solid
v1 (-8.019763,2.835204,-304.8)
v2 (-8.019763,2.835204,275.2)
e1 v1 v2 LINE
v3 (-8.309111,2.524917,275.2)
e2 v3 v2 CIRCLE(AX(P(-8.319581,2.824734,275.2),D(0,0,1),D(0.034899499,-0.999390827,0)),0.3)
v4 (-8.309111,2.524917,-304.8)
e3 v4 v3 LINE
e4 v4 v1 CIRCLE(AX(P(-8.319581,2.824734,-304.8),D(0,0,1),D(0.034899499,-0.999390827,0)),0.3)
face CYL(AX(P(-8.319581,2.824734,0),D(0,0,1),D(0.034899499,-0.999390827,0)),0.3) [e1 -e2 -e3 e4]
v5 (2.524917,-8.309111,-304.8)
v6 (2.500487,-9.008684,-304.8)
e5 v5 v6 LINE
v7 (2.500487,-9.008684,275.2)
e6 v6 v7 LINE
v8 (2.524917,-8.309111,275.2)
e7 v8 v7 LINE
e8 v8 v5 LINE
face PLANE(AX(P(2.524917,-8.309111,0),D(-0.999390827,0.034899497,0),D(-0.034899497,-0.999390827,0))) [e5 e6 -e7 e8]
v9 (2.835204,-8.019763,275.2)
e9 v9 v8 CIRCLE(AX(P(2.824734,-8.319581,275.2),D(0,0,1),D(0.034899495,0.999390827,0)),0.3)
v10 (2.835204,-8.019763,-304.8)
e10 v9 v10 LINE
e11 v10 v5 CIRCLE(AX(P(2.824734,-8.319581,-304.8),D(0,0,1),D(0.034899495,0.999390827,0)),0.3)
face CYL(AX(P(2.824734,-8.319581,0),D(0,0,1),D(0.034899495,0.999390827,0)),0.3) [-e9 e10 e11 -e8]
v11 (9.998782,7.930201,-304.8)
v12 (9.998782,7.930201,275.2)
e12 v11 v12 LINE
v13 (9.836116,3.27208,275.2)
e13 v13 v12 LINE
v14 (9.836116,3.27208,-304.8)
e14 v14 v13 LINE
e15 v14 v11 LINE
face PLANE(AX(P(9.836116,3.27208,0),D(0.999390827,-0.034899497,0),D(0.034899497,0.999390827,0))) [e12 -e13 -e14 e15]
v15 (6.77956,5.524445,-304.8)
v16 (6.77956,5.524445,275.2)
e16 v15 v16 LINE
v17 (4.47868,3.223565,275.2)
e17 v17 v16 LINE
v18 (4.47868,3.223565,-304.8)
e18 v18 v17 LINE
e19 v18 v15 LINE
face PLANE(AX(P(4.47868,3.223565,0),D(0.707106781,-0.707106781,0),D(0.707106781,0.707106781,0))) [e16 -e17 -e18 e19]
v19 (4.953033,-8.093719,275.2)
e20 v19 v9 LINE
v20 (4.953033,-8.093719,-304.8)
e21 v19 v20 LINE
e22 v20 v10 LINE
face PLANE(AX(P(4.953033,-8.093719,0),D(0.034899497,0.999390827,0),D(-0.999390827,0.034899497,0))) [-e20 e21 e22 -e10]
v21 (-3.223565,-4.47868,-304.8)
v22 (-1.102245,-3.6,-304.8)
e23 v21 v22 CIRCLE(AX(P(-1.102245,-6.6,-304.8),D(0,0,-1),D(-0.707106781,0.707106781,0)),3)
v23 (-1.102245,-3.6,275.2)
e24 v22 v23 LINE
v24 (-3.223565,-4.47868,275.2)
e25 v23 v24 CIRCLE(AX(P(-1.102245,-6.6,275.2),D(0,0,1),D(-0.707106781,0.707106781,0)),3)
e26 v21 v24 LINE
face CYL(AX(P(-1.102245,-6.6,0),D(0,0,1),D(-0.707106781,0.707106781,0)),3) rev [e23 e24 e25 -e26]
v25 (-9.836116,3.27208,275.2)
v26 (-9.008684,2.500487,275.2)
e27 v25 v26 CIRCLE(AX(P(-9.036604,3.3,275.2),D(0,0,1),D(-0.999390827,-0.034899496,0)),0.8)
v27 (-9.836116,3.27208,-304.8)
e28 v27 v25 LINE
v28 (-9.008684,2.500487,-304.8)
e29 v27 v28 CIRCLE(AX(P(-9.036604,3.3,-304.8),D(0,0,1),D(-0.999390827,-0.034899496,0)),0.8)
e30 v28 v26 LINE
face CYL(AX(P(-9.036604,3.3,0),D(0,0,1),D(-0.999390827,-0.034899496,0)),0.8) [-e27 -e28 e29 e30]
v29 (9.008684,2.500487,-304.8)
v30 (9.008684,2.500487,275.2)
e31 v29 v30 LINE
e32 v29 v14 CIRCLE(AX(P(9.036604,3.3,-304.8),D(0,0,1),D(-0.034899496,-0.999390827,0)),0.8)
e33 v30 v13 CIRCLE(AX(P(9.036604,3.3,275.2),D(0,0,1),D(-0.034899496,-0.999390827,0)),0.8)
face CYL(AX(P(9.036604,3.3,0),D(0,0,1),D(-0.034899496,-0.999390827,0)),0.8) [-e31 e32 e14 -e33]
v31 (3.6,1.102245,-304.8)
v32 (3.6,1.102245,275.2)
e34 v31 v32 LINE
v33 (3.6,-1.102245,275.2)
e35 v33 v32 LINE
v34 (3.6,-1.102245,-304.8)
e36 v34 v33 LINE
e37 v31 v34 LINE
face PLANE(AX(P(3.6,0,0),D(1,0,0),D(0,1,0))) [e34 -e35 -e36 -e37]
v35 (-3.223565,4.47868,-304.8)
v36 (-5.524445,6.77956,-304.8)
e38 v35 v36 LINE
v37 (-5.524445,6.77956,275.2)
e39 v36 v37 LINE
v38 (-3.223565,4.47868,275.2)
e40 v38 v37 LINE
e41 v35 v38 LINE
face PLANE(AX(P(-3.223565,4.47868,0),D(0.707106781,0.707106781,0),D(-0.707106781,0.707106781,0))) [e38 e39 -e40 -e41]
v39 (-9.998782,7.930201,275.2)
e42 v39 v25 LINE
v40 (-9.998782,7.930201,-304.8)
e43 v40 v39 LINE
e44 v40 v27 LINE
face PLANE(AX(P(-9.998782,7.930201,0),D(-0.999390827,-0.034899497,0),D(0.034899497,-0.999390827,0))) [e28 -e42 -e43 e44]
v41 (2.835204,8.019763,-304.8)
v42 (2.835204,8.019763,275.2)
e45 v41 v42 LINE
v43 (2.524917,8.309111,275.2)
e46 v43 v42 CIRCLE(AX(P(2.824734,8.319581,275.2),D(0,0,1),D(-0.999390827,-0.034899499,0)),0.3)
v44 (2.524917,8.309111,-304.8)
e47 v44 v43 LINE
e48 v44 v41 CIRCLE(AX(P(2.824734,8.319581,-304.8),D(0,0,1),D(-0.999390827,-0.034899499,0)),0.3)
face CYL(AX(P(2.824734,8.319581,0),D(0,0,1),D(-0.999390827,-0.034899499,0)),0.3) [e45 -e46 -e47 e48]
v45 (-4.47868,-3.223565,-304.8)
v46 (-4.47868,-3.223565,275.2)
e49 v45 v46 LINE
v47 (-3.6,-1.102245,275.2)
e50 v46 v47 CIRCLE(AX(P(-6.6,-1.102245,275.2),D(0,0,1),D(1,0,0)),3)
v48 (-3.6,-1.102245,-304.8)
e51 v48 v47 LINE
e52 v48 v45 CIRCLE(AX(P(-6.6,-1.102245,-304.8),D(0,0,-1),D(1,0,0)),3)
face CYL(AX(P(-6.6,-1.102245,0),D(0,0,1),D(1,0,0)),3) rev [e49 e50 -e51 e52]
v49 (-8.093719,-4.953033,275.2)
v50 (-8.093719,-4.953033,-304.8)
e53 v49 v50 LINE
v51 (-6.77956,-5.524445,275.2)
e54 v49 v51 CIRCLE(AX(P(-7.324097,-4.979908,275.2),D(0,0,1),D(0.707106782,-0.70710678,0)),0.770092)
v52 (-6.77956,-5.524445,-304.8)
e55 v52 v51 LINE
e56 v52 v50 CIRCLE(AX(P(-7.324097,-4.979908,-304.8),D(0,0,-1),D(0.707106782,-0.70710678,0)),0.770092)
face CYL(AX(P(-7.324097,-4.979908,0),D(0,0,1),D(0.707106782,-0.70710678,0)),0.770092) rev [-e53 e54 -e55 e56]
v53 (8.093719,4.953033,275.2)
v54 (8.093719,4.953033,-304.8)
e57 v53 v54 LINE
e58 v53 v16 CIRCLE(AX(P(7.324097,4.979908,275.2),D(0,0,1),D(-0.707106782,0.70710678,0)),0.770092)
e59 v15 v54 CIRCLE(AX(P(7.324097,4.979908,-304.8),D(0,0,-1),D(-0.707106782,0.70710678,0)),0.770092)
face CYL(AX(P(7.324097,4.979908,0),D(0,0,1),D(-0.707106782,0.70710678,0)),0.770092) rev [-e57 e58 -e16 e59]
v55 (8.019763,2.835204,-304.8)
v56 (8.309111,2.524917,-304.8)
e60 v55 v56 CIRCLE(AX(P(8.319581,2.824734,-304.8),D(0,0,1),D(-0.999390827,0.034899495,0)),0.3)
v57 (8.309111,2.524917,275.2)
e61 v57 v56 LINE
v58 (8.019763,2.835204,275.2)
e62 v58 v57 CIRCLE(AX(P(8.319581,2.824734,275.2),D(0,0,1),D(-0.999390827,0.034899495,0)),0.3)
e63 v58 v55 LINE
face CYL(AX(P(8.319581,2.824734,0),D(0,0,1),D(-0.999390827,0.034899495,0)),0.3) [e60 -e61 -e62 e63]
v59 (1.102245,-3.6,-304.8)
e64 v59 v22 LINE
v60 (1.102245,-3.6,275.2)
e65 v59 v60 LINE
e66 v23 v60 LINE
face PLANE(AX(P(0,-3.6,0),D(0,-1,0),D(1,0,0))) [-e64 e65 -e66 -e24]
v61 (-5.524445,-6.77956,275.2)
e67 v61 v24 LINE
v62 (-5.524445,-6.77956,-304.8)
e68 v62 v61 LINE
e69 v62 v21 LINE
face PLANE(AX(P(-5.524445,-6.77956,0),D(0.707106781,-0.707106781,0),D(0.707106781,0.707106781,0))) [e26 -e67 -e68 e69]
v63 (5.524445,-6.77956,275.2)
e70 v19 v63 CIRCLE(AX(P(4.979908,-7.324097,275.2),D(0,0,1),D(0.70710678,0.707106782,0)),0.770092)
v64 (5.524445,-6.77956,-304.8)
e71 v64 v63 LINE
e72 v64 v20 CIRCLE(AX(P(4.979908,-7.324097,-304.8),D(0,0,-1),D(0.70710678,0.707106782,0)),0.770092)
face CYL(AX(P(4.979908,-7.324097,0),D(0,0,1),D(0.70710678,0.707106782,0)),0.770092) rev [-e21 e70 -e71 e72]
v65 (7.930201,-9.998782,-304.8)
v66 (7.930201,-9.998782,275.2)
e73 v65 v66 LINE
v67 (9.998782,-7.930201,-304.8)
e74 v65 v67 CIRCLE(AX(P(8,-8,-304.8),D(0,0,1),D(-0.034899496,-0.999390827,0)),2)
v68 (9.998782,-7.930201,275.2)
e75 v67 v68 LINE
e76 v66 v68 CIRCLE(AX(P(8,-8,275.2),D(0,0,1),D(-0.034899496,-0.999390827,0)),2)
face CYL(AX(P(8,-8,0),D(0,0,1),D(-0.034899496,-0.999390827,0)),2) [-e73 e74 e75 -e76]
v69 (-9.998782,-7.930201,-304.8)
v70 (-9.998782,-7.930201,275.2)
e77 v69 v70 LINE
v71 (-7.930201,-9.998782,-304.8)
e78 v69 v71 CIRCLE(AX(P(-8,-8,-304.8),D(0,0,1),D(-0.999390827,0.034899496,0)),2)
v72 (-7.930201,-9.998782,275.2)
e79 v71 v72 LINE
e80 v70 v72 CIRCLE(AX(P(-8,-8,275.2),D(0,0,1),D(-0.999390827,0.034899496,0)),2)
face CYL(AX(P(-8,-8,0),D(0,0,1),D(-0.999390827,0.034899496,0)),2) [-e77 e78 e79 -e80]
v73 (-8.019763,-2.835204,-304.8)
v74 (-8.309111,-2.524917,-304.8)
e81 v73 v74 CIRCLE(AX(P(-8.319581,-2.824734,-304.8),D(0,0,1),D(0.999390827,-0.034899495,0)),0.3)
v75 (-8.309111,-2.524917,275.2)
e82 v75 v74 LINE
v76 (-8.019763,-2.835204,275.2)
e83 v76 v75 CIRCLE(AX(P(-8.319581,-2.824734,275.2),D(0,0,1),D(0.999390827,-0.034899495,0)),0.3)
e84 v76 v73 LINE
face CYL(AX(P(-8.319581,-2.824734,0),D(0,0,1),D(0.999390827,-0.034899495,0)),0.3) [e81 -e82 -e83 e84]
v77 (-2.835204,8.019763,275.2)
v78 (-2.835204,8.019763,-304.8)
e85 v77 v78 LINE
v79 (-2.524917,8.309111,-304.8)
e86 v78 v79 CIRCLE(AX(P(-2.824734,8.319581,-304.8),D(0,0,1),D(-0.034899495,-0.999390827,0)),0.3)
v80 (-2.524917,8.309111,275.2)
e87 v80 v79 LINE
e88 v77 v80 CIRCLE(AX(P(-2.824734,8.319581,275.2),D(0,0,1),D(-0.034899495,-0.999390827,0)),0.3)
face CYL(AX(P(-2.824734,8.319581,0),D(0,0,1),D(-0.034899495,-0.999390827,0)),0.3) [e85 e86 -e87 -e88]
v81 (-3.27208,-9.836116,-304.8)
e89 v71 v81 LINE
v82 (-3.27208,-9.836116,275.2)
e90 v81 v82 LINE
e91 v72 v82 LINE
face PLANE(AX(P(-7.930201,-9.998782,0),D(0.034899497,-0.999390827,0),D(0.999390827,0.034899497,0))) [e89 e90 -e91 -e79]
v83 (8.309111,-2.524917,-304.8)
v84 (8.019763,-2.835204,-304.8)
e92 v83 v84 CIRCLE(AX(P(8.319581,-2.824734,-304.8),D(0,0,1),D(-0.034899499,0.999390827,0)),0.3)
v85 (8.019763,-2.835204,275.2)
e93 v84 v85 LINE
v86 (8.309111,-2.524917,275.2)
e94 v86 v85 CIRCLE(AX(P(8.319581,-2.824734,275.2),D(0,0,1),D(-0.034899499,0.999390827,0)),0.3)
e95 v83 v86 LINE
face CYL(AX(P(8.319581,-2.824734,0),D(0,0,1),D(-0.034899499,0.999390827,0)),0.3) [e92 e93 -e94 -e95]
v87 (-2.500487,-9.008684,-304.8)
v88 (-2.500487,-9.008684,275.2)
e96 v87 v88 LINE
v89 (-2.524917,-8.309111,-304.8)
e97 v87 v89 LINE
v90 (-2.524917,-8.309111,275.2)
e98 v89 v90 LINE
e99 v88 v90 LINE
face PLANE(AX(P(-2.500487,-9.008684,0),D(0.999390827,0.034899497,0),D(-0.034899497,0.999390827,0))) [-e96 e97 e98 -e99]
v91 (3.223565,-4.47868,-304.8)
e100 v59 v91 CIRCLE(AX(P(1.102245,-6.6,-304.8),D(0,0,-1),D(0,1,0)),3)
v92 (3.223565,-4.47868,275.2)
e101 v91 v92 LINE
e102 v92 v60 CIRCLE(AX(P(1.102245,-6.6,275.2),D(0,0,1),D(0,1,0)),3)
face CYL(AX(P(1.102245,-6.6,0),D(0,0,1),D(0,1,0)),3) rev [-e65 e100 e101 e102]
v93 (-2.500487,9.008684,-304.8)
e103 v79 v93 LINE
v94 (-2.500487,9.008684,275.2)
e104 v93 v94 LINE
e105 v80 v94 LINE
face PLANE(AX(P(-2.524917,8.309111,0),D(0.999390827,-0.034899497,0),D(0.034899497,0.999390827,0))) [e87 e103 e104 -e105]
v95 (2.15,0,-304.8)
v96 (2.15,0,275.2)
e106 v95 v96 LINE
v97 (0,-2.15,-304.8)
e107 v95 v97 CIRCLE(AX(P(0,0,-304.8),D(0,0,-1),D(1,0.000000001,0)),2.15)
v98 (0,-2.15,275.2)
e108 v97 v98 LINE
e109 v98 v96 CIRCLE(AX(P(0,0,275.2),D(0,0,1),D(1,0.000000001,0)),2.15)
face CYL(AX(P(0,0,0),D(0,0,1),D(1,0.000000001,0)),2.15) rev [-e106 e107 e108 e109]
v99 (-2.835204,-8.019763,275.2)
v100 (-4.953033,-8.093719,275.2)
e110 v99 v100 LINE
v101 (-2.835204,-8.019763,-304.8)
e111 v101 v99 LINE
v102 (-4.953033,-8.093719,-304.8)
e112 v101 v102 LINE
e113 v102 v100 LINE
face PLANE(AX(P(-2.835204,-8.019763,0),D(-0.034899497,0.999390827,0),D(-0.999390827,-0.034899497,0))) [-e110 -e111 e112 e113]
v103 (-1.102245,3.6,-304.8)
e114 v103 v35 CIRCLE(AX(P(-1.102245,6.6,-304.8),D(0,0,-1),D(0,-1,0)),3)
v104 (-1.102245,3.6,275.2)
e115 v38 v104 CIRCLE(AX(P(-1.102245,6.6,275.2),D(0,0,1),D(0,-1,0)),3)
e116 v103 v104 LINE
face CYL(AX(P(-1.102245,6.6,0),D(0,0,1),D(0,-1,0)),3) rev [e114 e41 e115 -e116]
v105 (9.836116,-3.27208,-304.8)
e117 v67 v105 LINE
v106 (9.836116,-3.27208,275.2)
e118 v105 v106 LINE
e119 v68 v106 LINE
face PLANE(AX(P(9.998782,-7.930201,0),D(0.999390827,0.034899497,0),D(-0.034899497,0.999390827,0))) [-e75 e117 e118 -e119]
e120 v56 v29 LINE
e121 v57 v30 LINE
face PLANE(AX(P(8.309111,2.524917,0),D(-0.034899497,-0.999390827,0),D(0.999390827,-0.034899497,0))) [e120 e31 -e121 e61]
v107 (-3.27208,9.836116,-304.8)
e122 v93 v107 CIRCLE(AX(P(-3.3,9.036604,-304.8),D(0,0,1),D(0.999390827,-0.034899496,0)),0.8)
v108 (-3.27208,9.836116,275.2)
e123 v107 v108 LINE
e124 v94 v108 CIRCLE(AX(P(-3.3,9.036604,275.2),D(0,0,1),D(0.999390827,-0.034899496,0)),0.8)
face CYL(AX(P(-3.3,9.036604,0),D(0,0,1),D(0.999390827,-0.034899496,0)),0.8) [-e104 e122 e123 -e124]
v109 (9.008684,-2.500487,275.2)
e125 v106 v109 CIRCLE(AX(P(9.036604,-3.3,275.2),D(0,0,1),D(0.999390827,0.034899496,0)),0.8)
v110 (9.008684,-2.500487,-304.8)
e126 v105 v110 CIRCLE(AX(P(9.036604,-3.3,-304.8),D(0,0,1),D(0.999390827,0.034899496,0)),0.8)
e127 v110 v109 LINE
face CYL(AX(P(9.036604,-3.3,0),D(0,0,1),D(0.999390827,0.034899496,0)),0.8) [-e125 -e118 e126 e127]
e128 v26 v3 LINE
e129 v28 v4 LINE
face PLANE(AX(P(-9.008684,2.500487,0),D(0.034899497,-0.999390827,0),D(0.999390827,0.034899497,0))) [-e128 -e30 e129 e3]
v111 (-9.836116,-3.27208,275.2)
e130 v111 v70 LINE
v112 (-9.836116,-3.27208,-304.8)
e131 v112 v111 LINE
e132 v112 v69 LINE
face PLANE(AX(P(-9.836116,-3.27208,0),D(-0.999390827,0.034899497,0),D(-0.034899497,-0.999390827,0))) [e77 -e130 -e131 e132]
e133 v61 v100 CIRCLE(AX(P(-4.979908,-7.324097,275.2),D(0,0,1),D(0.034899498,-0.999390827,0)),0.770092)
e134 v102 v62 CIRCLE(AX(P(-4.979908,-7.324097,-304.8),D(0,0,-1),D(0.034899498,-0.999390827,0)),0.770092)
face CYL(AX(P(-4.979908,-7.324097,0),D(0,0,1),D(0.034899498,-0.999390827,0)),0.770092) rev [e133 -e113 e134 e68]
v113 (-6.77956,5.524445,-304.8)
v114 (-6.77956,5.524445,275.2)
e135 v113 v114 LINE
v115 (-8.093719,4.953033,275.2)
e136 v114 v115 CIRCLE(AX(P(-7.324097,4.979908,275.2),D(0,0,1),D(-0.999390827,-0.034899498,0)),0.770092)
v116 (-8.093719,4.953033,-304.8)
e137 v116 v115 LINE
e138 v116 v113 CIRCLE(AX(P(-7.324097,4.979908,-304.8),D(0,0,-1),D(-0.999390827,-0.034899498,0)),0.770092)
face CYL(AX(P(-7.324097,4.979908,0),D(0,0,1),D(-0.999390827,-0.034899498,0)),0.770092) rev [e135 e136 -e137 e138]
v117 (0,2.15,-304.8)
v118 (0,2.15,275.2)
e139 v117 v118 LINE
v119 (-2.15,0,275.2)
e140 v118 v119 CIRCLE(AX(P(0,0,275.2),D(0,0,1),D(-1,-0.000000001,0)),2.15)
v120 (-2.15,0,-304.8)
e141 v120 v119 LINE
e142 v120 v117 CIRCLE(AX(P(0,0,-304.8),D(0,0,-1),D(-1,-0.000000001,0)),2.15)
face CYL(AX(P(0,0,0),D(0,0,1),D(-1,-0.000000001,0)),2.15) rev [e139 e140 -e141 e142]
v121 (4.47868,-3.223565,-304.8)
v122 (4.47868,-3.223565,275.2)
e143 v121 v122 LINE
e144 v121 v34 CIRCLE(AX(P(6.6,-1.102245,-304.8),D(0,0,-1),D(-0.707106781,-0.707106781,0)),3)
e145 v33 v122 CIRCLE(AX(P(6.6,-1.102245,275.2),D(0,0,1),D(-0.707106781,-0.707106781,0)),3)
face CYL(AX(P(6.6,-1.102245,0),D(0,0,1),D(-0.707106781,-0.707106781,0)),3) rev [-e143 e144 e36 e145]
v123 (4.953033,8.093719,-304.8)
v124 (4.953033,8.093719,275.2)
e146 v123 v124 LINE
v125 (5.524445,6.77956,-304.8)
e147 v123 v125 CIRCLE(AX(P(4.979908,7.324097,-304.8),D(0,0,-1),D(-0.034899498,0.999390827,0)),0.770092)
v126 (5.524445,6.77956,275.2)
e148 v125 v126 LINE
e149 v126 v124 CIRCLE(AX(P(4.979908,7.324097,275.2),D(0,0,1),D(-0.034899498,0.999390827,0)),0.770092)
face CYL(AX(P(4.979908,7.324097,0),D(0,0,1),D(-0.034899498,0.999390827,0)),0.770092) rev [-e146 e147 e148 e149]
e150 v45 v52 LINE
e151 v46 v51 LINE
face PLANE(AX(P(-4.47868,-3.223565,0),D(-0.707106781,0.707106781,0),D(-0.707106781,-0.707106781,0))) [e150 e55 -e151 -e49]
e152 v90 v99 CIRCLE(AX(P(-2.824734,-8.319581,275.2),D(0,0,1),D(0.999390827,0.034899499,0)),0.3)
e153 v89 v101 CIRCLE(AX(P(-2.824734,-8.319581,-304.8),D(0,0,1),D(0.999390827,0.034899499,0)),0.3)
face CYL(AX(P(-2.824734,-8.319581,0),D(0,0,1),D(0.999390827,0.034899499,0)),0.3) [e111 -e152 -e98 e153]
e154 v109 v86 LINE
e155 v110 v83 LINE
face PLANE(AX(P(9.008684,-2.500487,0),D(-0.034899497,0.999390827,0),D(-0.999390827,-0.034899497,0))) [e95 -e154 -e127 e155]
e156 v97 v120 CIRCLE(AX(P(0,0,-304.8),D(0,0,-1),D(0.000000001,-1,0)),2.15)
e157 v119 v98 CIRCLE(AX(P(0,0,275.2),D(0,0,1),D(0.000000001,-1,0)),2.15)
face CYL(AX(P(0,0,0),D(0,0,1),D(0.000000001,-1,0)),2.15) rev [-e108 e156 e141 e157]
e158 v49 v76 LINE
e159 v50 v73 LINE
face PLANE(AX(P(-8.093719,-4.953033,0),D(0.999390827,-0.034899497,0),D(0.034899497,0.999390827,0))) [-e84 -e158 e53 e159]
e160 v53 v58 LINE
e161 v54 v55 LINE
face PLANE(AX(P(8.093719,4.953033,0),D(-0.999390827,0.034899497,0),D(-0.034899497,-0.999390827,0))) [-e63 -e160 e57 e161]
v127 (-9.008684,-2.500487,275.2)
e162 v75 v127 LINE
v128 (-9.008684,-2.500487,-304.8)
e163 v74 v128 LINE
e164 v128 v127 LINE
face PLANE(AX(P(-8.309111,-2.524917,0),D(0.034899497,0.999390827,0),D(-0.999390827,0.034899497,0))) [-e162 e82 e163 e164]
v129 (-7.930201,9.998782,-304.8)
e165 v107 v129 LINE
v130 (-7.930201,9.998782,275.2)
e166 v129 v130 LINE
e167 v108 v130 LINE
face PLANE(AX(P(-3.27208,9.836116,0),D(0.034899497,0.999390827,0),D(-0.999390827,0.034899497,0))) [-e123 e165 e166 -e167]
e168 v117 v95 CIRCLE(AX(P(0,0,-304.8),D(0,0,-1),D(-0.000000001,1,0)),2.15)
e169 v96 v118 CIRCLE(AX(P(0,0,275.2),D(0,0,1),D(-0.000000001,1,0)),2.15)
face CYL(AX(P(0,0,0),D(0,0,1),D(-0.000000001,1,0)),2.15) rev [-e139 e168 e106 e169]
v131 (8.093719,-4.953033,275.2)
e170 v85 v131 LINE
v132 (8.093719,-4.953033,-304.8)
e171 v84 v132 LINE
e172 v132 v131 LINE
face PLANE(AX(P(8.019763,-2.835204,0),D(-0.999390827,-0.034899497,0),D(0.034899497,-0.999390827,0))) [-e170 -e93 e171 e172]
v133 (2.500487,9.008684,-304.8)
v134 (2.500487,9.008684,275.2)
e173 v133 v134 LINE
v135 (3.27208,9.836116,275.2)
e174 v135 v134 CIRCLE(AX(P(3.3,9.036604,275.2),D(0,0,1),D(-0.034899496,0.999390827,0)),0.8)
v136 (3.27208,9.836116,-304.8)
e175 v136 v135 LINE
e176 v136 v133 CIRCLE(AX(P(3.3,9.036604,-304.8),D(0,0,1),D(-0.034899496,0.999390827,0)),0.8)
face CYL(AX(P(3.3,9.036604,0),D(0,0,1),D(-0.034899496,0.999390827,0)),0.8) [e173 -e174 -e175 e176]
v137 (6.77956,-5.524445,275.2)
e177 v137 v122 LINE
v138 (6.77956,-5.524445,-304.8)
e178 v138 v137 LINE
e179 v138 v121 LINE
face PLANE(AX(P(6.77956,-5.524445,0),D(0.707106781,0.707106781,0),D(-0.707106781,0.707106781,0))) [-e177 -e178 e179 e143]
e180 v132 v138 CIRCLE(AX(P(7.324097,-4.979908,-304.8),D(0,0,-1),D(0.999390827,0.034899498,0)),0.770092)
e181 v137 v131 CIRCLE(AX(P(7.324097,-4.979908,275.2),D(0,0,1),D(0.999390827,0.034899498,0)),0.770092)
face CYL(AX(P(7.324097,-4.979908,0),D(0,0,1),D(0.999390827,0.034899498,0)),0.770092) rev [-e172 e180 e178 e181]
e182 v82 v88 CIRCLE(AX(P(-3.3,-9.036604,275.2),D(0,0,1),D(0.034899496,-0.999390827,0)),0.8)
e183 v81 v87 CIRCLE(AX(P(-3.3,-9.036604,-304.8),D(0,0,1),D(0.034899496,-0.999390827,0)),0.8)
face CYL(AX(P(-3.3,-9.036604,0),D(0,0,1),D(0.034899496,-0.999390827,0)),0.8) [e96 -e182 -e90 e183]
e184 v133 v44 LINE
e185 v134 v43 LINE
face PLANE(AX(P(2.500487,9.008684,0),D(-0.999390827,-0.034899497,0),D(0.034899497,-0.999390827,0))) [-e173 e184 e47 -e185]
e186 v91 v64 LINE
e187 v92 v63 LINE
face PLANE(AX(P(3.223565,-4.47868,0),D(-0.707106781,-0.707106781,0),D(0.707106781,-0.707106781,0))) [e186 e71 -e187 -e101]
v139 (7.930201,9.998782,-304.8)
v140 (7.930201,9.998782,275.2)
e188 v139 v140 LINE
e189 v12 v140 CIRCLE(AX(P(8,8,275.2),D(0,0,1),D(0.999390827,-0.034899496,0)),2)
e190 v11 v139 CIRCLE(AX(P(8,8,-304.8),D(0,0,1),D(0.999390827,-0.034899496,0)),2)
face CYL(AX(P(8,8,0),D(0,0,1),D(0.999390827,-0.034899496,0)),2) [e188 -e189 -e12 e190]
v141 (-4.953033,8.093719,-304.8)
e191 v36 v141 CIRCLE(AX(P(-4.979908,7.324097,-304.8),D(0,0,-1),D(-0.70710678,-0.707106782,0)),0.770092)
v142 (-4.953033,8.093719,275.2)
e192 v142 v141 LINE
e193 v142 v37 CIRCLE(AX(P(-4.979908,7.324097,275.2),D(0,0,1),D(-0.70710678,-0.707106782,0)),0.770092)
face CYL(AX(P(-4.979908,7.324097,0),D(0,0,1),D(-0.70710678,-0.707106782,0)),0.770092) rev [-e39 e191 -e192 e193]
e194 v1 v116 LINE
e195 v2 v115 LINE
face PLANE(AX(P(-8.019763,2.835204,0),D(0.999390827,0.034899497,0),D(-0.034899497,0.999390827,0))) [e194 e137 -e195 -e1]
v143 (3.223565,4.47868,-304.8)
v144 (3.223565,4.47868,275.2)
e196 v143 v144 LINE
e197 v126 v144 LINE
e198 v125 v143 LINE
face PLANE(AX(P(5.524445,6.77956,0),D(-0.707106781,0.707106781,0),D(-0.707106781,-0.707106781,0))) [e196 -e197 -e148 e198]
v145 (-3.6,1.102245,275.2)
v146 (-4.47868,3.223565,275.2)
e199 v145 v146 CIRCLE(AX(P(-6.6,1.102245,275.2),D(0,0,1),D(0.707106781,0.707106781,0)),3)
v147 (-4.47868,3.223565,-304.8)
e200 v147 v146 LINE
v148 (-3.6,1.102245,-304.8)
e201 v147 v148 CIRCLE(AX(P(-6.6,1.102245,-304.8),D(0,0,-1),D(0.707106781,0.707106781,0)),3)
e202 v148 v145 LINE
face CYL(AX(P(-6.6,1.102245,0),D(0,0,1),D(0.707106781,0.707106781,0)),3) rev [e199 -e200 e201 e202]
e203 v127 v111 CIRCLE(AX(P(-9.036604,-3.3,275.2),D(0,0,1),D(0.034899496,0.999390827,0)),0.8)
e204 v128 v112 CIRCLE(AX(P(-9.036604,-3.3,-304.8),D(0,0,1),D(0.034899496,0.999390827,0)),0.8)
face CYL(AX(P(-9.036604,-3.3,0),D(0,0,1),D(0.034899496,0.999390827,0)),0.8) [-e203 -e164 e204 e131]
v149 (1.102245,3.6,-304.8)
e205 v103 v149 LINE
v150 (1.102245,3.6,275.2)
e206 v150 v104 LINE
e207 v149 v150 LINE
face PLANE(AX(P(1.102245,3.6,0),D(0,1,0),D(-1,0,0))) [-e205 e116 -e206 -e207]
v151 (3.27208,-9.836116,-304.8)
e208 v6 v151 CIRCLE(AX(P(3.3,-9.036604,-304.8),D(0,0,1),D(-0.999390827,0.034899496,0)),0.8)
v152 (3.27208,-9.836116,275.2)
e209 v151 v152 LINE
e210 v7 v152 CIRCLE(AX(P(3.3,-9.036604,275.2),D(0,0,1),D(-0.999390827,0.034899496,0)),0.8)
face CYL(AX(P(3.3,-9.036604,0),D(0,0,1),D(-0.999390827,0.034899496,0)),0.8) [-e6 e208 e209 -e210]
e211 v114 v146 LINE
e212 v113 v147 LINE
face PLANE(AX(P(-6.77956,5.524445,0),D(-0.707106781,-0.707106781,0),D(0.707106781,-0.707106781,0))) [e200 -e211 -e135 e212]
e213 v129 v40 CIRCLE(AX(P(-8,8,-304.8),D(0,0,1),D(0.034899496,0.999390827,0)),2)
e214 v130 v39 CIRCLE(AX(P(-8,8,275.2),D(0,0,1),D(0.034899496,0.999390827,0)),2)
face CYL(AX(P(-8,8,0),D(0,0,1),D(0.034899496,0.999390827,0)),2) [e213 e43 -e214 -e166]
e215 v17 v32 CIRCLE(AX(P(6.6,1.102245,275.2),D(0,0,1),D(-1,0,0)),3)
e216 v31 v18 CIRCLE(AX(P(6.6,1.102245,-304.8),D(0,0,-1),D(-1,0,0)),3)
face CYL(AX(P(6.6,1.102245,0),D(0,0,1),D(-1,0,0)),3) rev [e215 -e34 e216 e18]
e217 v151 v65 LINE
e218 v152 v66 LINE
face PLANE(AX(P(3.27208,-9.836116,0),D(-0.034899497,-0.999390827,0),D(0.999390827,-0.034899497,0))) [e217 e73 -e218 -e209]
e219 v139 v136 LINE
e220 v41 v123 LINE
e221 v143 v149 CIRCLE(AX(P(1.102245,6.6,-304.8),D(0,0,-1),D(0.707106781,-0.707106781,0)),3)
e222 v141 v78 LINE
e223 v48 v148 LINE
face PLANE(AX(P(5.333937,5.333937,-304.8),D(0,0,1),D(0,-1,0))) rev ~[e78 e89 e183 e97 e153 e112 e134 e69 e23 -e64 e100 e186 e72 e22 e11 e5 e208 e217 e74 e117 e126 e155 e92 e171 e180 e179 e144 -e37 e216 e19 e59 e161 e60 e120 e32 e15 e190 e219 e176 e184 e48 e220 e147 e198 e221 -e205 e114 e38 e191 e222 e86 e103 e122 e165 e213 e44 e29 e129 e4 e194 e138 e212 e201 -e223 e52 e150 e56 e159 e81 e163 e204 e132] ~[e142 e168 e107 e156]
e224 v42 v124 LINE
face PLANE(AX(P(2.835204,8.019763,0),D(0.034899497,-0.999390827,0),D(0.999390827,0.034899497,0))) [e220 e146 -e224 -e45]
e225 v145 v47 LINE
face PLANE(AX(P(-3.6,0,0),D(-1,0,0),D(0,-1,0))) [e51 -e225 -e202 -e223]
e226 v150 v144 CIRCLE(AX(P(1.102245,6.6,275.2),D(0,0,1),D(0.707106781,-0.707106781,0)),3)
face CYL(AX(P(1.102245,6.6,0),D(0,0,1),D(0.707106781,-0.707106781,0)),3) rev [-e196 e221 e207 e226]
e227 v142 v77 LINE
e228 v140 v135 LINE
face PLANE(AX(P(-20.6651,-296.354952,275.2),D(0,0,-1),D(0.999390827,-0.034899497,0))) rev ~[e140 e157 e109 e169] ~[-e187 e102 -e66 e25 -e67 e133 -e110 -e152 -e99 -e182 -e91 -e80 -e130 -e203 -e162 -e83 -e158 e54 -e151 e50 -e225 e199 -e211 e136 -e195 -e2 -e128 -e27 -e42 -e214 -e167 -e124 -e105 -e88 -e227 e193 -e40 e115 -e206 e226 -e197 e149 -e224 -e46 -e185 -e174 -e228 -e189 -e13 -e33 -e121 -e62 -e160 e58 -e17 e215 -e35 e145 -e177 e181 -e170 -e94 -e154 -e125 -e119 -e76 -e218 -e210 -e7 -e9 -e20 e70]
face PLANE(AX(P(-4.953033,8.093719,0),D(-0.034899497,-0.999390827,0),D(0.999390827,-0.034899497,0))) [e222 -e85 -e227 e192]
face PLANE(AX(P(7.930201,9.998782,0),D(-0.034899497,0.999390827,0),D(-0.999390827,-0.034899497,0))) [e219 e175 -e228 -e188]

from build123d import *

# Parameters (mm, degrees)
BOSS_EXTRUDE1_DEPTH     = 304.8
CIRPATTERN1_COUNT       = 4
CUT_EXTRUDE1_DEPTH      = 306.611552742
CUT_EXTRUDE1_DEPTH_BACK = 306.611552742
SKETCH4_W               = 20.616616654
SKETCH4_H               = 34.076220988


with BuildPart() as part:
    # Sketch3 → Boss-Extrude1 (new, symmetric)
    with BuildSketch(Plane.XY):
        with BuildLine():
            Line((-2.524916986, 8.30911066), (-2.500487338, 9.008684239))
            ThreePointArc((-2.500487338, 9.008684239), (-2.714917039, 9.582202525), (-3.272080403, 9.836116498))
            Line((-3.272080403, 9.836116498), (-7.930201007, 9.998781654))
            ThreePointArc((-7.930201007, 9.998781654), (-9.414213562, 9.414213562), (-9.998781654, 7.930201007))
            Line((-9.998781654, 7.930201007), (-9.836116498, 3.272080403))
            ThreePointArc((-9.836116498, 3.272080403), (-9.582202525, 2.714917039), (-9.008684239, 2.500487338))
            Line((-9.008684239, 2.500487338), (-8.30911066, 2.524916986))
            ThreePointArc((-8.30911066, 2.524916986), (-8.100174399, 2.620134726), (-8.019763261, 2.835204083))
            Line((-8.019763261, 2.835204083), (-8.093719461, 4.953032548))
            ThreePointArc((-8.093719461, 4.953032548), (-7.631170264, 5.686128657), (-6.779559917, 5.52444538))
            Line((-6.779559917, 5.52444538), (-4.478679656, 3.22356512))
            ThreePointArc((-4.478679656, 3.22356512), (-3.828361402, 2.250295073), (-3.6, 1.102244776))
            Line((-3.6, 1.102244776), (-3.6, 0))
            Line((-3.6, 0), (-2.15, 0))
            ThreePointArc((-2.15, 0), (-1.52027958, 1.52027958), (0, 2.15))
            Line((0, 2.15), (0, 3.6))
            Line((0, 3.6), (-1.102244776, 3.6))
            ThreePointArc((-1.102244776, 3.6), (-2.250295073, 3.828361402), (-3.22356512, 4.478679656))
            Line((-3.22356512, 4.478679656), (-5.52444538, 6.779559917))
            ThreePointArc((-5.52444538, 6.779559917), (-5.686128657, 7.631170264), (-4.953032548, 8.093719461))
            Line((-4.953032548, 8.093719461), (-2.835204083, 8.019763261))
            ThreePointArc((-2.835204083, 8.019763261), (-2.620134726, 8.100174399), (-2.524916986, 8.30911066))
        make_face()
    boss_extrude1 = extrude(amount=BOSS_EXTRUDE1_DEPTH, both=True)

    # CirPattern1: Boss-Extrude1 ×4 about axis
    cirpattern1_axis = Axis((0, 0, 0), (0, 0, 1))
    for i in range(1, CIRPATTERN1_COUNT):
        add(boss_extrude1.rotate(cirpattern1_axis, i * 360 / CIRPATTERN1_COUNT))

    # Sketch4 → Cut-Extrude1 (cut, two sides: drawn at the far end of the back side and taken through both)
    with BuildSketch(Plane(origin=(0.339081089, 9.71001196, 0), x_dir=(0.9993908270190978, -0.034899496702443626, 0), z_dir=(0.034899496702443626, 0.9993908270190978, 0)).offset(-CUT_EXTRUDE1_DEPTH_BACK)):
        with Locations((-0.00156471, -292.238110494)):
            Rectangle(SKETCH4_W, SKETCH4_H)
    extrude(amount=CUT_EXTRUDE1_DEPTH + CUT_EXTRUDE1_DEPTH_BACK, mode=Mode.SUBTRACT)


solid = part.part
